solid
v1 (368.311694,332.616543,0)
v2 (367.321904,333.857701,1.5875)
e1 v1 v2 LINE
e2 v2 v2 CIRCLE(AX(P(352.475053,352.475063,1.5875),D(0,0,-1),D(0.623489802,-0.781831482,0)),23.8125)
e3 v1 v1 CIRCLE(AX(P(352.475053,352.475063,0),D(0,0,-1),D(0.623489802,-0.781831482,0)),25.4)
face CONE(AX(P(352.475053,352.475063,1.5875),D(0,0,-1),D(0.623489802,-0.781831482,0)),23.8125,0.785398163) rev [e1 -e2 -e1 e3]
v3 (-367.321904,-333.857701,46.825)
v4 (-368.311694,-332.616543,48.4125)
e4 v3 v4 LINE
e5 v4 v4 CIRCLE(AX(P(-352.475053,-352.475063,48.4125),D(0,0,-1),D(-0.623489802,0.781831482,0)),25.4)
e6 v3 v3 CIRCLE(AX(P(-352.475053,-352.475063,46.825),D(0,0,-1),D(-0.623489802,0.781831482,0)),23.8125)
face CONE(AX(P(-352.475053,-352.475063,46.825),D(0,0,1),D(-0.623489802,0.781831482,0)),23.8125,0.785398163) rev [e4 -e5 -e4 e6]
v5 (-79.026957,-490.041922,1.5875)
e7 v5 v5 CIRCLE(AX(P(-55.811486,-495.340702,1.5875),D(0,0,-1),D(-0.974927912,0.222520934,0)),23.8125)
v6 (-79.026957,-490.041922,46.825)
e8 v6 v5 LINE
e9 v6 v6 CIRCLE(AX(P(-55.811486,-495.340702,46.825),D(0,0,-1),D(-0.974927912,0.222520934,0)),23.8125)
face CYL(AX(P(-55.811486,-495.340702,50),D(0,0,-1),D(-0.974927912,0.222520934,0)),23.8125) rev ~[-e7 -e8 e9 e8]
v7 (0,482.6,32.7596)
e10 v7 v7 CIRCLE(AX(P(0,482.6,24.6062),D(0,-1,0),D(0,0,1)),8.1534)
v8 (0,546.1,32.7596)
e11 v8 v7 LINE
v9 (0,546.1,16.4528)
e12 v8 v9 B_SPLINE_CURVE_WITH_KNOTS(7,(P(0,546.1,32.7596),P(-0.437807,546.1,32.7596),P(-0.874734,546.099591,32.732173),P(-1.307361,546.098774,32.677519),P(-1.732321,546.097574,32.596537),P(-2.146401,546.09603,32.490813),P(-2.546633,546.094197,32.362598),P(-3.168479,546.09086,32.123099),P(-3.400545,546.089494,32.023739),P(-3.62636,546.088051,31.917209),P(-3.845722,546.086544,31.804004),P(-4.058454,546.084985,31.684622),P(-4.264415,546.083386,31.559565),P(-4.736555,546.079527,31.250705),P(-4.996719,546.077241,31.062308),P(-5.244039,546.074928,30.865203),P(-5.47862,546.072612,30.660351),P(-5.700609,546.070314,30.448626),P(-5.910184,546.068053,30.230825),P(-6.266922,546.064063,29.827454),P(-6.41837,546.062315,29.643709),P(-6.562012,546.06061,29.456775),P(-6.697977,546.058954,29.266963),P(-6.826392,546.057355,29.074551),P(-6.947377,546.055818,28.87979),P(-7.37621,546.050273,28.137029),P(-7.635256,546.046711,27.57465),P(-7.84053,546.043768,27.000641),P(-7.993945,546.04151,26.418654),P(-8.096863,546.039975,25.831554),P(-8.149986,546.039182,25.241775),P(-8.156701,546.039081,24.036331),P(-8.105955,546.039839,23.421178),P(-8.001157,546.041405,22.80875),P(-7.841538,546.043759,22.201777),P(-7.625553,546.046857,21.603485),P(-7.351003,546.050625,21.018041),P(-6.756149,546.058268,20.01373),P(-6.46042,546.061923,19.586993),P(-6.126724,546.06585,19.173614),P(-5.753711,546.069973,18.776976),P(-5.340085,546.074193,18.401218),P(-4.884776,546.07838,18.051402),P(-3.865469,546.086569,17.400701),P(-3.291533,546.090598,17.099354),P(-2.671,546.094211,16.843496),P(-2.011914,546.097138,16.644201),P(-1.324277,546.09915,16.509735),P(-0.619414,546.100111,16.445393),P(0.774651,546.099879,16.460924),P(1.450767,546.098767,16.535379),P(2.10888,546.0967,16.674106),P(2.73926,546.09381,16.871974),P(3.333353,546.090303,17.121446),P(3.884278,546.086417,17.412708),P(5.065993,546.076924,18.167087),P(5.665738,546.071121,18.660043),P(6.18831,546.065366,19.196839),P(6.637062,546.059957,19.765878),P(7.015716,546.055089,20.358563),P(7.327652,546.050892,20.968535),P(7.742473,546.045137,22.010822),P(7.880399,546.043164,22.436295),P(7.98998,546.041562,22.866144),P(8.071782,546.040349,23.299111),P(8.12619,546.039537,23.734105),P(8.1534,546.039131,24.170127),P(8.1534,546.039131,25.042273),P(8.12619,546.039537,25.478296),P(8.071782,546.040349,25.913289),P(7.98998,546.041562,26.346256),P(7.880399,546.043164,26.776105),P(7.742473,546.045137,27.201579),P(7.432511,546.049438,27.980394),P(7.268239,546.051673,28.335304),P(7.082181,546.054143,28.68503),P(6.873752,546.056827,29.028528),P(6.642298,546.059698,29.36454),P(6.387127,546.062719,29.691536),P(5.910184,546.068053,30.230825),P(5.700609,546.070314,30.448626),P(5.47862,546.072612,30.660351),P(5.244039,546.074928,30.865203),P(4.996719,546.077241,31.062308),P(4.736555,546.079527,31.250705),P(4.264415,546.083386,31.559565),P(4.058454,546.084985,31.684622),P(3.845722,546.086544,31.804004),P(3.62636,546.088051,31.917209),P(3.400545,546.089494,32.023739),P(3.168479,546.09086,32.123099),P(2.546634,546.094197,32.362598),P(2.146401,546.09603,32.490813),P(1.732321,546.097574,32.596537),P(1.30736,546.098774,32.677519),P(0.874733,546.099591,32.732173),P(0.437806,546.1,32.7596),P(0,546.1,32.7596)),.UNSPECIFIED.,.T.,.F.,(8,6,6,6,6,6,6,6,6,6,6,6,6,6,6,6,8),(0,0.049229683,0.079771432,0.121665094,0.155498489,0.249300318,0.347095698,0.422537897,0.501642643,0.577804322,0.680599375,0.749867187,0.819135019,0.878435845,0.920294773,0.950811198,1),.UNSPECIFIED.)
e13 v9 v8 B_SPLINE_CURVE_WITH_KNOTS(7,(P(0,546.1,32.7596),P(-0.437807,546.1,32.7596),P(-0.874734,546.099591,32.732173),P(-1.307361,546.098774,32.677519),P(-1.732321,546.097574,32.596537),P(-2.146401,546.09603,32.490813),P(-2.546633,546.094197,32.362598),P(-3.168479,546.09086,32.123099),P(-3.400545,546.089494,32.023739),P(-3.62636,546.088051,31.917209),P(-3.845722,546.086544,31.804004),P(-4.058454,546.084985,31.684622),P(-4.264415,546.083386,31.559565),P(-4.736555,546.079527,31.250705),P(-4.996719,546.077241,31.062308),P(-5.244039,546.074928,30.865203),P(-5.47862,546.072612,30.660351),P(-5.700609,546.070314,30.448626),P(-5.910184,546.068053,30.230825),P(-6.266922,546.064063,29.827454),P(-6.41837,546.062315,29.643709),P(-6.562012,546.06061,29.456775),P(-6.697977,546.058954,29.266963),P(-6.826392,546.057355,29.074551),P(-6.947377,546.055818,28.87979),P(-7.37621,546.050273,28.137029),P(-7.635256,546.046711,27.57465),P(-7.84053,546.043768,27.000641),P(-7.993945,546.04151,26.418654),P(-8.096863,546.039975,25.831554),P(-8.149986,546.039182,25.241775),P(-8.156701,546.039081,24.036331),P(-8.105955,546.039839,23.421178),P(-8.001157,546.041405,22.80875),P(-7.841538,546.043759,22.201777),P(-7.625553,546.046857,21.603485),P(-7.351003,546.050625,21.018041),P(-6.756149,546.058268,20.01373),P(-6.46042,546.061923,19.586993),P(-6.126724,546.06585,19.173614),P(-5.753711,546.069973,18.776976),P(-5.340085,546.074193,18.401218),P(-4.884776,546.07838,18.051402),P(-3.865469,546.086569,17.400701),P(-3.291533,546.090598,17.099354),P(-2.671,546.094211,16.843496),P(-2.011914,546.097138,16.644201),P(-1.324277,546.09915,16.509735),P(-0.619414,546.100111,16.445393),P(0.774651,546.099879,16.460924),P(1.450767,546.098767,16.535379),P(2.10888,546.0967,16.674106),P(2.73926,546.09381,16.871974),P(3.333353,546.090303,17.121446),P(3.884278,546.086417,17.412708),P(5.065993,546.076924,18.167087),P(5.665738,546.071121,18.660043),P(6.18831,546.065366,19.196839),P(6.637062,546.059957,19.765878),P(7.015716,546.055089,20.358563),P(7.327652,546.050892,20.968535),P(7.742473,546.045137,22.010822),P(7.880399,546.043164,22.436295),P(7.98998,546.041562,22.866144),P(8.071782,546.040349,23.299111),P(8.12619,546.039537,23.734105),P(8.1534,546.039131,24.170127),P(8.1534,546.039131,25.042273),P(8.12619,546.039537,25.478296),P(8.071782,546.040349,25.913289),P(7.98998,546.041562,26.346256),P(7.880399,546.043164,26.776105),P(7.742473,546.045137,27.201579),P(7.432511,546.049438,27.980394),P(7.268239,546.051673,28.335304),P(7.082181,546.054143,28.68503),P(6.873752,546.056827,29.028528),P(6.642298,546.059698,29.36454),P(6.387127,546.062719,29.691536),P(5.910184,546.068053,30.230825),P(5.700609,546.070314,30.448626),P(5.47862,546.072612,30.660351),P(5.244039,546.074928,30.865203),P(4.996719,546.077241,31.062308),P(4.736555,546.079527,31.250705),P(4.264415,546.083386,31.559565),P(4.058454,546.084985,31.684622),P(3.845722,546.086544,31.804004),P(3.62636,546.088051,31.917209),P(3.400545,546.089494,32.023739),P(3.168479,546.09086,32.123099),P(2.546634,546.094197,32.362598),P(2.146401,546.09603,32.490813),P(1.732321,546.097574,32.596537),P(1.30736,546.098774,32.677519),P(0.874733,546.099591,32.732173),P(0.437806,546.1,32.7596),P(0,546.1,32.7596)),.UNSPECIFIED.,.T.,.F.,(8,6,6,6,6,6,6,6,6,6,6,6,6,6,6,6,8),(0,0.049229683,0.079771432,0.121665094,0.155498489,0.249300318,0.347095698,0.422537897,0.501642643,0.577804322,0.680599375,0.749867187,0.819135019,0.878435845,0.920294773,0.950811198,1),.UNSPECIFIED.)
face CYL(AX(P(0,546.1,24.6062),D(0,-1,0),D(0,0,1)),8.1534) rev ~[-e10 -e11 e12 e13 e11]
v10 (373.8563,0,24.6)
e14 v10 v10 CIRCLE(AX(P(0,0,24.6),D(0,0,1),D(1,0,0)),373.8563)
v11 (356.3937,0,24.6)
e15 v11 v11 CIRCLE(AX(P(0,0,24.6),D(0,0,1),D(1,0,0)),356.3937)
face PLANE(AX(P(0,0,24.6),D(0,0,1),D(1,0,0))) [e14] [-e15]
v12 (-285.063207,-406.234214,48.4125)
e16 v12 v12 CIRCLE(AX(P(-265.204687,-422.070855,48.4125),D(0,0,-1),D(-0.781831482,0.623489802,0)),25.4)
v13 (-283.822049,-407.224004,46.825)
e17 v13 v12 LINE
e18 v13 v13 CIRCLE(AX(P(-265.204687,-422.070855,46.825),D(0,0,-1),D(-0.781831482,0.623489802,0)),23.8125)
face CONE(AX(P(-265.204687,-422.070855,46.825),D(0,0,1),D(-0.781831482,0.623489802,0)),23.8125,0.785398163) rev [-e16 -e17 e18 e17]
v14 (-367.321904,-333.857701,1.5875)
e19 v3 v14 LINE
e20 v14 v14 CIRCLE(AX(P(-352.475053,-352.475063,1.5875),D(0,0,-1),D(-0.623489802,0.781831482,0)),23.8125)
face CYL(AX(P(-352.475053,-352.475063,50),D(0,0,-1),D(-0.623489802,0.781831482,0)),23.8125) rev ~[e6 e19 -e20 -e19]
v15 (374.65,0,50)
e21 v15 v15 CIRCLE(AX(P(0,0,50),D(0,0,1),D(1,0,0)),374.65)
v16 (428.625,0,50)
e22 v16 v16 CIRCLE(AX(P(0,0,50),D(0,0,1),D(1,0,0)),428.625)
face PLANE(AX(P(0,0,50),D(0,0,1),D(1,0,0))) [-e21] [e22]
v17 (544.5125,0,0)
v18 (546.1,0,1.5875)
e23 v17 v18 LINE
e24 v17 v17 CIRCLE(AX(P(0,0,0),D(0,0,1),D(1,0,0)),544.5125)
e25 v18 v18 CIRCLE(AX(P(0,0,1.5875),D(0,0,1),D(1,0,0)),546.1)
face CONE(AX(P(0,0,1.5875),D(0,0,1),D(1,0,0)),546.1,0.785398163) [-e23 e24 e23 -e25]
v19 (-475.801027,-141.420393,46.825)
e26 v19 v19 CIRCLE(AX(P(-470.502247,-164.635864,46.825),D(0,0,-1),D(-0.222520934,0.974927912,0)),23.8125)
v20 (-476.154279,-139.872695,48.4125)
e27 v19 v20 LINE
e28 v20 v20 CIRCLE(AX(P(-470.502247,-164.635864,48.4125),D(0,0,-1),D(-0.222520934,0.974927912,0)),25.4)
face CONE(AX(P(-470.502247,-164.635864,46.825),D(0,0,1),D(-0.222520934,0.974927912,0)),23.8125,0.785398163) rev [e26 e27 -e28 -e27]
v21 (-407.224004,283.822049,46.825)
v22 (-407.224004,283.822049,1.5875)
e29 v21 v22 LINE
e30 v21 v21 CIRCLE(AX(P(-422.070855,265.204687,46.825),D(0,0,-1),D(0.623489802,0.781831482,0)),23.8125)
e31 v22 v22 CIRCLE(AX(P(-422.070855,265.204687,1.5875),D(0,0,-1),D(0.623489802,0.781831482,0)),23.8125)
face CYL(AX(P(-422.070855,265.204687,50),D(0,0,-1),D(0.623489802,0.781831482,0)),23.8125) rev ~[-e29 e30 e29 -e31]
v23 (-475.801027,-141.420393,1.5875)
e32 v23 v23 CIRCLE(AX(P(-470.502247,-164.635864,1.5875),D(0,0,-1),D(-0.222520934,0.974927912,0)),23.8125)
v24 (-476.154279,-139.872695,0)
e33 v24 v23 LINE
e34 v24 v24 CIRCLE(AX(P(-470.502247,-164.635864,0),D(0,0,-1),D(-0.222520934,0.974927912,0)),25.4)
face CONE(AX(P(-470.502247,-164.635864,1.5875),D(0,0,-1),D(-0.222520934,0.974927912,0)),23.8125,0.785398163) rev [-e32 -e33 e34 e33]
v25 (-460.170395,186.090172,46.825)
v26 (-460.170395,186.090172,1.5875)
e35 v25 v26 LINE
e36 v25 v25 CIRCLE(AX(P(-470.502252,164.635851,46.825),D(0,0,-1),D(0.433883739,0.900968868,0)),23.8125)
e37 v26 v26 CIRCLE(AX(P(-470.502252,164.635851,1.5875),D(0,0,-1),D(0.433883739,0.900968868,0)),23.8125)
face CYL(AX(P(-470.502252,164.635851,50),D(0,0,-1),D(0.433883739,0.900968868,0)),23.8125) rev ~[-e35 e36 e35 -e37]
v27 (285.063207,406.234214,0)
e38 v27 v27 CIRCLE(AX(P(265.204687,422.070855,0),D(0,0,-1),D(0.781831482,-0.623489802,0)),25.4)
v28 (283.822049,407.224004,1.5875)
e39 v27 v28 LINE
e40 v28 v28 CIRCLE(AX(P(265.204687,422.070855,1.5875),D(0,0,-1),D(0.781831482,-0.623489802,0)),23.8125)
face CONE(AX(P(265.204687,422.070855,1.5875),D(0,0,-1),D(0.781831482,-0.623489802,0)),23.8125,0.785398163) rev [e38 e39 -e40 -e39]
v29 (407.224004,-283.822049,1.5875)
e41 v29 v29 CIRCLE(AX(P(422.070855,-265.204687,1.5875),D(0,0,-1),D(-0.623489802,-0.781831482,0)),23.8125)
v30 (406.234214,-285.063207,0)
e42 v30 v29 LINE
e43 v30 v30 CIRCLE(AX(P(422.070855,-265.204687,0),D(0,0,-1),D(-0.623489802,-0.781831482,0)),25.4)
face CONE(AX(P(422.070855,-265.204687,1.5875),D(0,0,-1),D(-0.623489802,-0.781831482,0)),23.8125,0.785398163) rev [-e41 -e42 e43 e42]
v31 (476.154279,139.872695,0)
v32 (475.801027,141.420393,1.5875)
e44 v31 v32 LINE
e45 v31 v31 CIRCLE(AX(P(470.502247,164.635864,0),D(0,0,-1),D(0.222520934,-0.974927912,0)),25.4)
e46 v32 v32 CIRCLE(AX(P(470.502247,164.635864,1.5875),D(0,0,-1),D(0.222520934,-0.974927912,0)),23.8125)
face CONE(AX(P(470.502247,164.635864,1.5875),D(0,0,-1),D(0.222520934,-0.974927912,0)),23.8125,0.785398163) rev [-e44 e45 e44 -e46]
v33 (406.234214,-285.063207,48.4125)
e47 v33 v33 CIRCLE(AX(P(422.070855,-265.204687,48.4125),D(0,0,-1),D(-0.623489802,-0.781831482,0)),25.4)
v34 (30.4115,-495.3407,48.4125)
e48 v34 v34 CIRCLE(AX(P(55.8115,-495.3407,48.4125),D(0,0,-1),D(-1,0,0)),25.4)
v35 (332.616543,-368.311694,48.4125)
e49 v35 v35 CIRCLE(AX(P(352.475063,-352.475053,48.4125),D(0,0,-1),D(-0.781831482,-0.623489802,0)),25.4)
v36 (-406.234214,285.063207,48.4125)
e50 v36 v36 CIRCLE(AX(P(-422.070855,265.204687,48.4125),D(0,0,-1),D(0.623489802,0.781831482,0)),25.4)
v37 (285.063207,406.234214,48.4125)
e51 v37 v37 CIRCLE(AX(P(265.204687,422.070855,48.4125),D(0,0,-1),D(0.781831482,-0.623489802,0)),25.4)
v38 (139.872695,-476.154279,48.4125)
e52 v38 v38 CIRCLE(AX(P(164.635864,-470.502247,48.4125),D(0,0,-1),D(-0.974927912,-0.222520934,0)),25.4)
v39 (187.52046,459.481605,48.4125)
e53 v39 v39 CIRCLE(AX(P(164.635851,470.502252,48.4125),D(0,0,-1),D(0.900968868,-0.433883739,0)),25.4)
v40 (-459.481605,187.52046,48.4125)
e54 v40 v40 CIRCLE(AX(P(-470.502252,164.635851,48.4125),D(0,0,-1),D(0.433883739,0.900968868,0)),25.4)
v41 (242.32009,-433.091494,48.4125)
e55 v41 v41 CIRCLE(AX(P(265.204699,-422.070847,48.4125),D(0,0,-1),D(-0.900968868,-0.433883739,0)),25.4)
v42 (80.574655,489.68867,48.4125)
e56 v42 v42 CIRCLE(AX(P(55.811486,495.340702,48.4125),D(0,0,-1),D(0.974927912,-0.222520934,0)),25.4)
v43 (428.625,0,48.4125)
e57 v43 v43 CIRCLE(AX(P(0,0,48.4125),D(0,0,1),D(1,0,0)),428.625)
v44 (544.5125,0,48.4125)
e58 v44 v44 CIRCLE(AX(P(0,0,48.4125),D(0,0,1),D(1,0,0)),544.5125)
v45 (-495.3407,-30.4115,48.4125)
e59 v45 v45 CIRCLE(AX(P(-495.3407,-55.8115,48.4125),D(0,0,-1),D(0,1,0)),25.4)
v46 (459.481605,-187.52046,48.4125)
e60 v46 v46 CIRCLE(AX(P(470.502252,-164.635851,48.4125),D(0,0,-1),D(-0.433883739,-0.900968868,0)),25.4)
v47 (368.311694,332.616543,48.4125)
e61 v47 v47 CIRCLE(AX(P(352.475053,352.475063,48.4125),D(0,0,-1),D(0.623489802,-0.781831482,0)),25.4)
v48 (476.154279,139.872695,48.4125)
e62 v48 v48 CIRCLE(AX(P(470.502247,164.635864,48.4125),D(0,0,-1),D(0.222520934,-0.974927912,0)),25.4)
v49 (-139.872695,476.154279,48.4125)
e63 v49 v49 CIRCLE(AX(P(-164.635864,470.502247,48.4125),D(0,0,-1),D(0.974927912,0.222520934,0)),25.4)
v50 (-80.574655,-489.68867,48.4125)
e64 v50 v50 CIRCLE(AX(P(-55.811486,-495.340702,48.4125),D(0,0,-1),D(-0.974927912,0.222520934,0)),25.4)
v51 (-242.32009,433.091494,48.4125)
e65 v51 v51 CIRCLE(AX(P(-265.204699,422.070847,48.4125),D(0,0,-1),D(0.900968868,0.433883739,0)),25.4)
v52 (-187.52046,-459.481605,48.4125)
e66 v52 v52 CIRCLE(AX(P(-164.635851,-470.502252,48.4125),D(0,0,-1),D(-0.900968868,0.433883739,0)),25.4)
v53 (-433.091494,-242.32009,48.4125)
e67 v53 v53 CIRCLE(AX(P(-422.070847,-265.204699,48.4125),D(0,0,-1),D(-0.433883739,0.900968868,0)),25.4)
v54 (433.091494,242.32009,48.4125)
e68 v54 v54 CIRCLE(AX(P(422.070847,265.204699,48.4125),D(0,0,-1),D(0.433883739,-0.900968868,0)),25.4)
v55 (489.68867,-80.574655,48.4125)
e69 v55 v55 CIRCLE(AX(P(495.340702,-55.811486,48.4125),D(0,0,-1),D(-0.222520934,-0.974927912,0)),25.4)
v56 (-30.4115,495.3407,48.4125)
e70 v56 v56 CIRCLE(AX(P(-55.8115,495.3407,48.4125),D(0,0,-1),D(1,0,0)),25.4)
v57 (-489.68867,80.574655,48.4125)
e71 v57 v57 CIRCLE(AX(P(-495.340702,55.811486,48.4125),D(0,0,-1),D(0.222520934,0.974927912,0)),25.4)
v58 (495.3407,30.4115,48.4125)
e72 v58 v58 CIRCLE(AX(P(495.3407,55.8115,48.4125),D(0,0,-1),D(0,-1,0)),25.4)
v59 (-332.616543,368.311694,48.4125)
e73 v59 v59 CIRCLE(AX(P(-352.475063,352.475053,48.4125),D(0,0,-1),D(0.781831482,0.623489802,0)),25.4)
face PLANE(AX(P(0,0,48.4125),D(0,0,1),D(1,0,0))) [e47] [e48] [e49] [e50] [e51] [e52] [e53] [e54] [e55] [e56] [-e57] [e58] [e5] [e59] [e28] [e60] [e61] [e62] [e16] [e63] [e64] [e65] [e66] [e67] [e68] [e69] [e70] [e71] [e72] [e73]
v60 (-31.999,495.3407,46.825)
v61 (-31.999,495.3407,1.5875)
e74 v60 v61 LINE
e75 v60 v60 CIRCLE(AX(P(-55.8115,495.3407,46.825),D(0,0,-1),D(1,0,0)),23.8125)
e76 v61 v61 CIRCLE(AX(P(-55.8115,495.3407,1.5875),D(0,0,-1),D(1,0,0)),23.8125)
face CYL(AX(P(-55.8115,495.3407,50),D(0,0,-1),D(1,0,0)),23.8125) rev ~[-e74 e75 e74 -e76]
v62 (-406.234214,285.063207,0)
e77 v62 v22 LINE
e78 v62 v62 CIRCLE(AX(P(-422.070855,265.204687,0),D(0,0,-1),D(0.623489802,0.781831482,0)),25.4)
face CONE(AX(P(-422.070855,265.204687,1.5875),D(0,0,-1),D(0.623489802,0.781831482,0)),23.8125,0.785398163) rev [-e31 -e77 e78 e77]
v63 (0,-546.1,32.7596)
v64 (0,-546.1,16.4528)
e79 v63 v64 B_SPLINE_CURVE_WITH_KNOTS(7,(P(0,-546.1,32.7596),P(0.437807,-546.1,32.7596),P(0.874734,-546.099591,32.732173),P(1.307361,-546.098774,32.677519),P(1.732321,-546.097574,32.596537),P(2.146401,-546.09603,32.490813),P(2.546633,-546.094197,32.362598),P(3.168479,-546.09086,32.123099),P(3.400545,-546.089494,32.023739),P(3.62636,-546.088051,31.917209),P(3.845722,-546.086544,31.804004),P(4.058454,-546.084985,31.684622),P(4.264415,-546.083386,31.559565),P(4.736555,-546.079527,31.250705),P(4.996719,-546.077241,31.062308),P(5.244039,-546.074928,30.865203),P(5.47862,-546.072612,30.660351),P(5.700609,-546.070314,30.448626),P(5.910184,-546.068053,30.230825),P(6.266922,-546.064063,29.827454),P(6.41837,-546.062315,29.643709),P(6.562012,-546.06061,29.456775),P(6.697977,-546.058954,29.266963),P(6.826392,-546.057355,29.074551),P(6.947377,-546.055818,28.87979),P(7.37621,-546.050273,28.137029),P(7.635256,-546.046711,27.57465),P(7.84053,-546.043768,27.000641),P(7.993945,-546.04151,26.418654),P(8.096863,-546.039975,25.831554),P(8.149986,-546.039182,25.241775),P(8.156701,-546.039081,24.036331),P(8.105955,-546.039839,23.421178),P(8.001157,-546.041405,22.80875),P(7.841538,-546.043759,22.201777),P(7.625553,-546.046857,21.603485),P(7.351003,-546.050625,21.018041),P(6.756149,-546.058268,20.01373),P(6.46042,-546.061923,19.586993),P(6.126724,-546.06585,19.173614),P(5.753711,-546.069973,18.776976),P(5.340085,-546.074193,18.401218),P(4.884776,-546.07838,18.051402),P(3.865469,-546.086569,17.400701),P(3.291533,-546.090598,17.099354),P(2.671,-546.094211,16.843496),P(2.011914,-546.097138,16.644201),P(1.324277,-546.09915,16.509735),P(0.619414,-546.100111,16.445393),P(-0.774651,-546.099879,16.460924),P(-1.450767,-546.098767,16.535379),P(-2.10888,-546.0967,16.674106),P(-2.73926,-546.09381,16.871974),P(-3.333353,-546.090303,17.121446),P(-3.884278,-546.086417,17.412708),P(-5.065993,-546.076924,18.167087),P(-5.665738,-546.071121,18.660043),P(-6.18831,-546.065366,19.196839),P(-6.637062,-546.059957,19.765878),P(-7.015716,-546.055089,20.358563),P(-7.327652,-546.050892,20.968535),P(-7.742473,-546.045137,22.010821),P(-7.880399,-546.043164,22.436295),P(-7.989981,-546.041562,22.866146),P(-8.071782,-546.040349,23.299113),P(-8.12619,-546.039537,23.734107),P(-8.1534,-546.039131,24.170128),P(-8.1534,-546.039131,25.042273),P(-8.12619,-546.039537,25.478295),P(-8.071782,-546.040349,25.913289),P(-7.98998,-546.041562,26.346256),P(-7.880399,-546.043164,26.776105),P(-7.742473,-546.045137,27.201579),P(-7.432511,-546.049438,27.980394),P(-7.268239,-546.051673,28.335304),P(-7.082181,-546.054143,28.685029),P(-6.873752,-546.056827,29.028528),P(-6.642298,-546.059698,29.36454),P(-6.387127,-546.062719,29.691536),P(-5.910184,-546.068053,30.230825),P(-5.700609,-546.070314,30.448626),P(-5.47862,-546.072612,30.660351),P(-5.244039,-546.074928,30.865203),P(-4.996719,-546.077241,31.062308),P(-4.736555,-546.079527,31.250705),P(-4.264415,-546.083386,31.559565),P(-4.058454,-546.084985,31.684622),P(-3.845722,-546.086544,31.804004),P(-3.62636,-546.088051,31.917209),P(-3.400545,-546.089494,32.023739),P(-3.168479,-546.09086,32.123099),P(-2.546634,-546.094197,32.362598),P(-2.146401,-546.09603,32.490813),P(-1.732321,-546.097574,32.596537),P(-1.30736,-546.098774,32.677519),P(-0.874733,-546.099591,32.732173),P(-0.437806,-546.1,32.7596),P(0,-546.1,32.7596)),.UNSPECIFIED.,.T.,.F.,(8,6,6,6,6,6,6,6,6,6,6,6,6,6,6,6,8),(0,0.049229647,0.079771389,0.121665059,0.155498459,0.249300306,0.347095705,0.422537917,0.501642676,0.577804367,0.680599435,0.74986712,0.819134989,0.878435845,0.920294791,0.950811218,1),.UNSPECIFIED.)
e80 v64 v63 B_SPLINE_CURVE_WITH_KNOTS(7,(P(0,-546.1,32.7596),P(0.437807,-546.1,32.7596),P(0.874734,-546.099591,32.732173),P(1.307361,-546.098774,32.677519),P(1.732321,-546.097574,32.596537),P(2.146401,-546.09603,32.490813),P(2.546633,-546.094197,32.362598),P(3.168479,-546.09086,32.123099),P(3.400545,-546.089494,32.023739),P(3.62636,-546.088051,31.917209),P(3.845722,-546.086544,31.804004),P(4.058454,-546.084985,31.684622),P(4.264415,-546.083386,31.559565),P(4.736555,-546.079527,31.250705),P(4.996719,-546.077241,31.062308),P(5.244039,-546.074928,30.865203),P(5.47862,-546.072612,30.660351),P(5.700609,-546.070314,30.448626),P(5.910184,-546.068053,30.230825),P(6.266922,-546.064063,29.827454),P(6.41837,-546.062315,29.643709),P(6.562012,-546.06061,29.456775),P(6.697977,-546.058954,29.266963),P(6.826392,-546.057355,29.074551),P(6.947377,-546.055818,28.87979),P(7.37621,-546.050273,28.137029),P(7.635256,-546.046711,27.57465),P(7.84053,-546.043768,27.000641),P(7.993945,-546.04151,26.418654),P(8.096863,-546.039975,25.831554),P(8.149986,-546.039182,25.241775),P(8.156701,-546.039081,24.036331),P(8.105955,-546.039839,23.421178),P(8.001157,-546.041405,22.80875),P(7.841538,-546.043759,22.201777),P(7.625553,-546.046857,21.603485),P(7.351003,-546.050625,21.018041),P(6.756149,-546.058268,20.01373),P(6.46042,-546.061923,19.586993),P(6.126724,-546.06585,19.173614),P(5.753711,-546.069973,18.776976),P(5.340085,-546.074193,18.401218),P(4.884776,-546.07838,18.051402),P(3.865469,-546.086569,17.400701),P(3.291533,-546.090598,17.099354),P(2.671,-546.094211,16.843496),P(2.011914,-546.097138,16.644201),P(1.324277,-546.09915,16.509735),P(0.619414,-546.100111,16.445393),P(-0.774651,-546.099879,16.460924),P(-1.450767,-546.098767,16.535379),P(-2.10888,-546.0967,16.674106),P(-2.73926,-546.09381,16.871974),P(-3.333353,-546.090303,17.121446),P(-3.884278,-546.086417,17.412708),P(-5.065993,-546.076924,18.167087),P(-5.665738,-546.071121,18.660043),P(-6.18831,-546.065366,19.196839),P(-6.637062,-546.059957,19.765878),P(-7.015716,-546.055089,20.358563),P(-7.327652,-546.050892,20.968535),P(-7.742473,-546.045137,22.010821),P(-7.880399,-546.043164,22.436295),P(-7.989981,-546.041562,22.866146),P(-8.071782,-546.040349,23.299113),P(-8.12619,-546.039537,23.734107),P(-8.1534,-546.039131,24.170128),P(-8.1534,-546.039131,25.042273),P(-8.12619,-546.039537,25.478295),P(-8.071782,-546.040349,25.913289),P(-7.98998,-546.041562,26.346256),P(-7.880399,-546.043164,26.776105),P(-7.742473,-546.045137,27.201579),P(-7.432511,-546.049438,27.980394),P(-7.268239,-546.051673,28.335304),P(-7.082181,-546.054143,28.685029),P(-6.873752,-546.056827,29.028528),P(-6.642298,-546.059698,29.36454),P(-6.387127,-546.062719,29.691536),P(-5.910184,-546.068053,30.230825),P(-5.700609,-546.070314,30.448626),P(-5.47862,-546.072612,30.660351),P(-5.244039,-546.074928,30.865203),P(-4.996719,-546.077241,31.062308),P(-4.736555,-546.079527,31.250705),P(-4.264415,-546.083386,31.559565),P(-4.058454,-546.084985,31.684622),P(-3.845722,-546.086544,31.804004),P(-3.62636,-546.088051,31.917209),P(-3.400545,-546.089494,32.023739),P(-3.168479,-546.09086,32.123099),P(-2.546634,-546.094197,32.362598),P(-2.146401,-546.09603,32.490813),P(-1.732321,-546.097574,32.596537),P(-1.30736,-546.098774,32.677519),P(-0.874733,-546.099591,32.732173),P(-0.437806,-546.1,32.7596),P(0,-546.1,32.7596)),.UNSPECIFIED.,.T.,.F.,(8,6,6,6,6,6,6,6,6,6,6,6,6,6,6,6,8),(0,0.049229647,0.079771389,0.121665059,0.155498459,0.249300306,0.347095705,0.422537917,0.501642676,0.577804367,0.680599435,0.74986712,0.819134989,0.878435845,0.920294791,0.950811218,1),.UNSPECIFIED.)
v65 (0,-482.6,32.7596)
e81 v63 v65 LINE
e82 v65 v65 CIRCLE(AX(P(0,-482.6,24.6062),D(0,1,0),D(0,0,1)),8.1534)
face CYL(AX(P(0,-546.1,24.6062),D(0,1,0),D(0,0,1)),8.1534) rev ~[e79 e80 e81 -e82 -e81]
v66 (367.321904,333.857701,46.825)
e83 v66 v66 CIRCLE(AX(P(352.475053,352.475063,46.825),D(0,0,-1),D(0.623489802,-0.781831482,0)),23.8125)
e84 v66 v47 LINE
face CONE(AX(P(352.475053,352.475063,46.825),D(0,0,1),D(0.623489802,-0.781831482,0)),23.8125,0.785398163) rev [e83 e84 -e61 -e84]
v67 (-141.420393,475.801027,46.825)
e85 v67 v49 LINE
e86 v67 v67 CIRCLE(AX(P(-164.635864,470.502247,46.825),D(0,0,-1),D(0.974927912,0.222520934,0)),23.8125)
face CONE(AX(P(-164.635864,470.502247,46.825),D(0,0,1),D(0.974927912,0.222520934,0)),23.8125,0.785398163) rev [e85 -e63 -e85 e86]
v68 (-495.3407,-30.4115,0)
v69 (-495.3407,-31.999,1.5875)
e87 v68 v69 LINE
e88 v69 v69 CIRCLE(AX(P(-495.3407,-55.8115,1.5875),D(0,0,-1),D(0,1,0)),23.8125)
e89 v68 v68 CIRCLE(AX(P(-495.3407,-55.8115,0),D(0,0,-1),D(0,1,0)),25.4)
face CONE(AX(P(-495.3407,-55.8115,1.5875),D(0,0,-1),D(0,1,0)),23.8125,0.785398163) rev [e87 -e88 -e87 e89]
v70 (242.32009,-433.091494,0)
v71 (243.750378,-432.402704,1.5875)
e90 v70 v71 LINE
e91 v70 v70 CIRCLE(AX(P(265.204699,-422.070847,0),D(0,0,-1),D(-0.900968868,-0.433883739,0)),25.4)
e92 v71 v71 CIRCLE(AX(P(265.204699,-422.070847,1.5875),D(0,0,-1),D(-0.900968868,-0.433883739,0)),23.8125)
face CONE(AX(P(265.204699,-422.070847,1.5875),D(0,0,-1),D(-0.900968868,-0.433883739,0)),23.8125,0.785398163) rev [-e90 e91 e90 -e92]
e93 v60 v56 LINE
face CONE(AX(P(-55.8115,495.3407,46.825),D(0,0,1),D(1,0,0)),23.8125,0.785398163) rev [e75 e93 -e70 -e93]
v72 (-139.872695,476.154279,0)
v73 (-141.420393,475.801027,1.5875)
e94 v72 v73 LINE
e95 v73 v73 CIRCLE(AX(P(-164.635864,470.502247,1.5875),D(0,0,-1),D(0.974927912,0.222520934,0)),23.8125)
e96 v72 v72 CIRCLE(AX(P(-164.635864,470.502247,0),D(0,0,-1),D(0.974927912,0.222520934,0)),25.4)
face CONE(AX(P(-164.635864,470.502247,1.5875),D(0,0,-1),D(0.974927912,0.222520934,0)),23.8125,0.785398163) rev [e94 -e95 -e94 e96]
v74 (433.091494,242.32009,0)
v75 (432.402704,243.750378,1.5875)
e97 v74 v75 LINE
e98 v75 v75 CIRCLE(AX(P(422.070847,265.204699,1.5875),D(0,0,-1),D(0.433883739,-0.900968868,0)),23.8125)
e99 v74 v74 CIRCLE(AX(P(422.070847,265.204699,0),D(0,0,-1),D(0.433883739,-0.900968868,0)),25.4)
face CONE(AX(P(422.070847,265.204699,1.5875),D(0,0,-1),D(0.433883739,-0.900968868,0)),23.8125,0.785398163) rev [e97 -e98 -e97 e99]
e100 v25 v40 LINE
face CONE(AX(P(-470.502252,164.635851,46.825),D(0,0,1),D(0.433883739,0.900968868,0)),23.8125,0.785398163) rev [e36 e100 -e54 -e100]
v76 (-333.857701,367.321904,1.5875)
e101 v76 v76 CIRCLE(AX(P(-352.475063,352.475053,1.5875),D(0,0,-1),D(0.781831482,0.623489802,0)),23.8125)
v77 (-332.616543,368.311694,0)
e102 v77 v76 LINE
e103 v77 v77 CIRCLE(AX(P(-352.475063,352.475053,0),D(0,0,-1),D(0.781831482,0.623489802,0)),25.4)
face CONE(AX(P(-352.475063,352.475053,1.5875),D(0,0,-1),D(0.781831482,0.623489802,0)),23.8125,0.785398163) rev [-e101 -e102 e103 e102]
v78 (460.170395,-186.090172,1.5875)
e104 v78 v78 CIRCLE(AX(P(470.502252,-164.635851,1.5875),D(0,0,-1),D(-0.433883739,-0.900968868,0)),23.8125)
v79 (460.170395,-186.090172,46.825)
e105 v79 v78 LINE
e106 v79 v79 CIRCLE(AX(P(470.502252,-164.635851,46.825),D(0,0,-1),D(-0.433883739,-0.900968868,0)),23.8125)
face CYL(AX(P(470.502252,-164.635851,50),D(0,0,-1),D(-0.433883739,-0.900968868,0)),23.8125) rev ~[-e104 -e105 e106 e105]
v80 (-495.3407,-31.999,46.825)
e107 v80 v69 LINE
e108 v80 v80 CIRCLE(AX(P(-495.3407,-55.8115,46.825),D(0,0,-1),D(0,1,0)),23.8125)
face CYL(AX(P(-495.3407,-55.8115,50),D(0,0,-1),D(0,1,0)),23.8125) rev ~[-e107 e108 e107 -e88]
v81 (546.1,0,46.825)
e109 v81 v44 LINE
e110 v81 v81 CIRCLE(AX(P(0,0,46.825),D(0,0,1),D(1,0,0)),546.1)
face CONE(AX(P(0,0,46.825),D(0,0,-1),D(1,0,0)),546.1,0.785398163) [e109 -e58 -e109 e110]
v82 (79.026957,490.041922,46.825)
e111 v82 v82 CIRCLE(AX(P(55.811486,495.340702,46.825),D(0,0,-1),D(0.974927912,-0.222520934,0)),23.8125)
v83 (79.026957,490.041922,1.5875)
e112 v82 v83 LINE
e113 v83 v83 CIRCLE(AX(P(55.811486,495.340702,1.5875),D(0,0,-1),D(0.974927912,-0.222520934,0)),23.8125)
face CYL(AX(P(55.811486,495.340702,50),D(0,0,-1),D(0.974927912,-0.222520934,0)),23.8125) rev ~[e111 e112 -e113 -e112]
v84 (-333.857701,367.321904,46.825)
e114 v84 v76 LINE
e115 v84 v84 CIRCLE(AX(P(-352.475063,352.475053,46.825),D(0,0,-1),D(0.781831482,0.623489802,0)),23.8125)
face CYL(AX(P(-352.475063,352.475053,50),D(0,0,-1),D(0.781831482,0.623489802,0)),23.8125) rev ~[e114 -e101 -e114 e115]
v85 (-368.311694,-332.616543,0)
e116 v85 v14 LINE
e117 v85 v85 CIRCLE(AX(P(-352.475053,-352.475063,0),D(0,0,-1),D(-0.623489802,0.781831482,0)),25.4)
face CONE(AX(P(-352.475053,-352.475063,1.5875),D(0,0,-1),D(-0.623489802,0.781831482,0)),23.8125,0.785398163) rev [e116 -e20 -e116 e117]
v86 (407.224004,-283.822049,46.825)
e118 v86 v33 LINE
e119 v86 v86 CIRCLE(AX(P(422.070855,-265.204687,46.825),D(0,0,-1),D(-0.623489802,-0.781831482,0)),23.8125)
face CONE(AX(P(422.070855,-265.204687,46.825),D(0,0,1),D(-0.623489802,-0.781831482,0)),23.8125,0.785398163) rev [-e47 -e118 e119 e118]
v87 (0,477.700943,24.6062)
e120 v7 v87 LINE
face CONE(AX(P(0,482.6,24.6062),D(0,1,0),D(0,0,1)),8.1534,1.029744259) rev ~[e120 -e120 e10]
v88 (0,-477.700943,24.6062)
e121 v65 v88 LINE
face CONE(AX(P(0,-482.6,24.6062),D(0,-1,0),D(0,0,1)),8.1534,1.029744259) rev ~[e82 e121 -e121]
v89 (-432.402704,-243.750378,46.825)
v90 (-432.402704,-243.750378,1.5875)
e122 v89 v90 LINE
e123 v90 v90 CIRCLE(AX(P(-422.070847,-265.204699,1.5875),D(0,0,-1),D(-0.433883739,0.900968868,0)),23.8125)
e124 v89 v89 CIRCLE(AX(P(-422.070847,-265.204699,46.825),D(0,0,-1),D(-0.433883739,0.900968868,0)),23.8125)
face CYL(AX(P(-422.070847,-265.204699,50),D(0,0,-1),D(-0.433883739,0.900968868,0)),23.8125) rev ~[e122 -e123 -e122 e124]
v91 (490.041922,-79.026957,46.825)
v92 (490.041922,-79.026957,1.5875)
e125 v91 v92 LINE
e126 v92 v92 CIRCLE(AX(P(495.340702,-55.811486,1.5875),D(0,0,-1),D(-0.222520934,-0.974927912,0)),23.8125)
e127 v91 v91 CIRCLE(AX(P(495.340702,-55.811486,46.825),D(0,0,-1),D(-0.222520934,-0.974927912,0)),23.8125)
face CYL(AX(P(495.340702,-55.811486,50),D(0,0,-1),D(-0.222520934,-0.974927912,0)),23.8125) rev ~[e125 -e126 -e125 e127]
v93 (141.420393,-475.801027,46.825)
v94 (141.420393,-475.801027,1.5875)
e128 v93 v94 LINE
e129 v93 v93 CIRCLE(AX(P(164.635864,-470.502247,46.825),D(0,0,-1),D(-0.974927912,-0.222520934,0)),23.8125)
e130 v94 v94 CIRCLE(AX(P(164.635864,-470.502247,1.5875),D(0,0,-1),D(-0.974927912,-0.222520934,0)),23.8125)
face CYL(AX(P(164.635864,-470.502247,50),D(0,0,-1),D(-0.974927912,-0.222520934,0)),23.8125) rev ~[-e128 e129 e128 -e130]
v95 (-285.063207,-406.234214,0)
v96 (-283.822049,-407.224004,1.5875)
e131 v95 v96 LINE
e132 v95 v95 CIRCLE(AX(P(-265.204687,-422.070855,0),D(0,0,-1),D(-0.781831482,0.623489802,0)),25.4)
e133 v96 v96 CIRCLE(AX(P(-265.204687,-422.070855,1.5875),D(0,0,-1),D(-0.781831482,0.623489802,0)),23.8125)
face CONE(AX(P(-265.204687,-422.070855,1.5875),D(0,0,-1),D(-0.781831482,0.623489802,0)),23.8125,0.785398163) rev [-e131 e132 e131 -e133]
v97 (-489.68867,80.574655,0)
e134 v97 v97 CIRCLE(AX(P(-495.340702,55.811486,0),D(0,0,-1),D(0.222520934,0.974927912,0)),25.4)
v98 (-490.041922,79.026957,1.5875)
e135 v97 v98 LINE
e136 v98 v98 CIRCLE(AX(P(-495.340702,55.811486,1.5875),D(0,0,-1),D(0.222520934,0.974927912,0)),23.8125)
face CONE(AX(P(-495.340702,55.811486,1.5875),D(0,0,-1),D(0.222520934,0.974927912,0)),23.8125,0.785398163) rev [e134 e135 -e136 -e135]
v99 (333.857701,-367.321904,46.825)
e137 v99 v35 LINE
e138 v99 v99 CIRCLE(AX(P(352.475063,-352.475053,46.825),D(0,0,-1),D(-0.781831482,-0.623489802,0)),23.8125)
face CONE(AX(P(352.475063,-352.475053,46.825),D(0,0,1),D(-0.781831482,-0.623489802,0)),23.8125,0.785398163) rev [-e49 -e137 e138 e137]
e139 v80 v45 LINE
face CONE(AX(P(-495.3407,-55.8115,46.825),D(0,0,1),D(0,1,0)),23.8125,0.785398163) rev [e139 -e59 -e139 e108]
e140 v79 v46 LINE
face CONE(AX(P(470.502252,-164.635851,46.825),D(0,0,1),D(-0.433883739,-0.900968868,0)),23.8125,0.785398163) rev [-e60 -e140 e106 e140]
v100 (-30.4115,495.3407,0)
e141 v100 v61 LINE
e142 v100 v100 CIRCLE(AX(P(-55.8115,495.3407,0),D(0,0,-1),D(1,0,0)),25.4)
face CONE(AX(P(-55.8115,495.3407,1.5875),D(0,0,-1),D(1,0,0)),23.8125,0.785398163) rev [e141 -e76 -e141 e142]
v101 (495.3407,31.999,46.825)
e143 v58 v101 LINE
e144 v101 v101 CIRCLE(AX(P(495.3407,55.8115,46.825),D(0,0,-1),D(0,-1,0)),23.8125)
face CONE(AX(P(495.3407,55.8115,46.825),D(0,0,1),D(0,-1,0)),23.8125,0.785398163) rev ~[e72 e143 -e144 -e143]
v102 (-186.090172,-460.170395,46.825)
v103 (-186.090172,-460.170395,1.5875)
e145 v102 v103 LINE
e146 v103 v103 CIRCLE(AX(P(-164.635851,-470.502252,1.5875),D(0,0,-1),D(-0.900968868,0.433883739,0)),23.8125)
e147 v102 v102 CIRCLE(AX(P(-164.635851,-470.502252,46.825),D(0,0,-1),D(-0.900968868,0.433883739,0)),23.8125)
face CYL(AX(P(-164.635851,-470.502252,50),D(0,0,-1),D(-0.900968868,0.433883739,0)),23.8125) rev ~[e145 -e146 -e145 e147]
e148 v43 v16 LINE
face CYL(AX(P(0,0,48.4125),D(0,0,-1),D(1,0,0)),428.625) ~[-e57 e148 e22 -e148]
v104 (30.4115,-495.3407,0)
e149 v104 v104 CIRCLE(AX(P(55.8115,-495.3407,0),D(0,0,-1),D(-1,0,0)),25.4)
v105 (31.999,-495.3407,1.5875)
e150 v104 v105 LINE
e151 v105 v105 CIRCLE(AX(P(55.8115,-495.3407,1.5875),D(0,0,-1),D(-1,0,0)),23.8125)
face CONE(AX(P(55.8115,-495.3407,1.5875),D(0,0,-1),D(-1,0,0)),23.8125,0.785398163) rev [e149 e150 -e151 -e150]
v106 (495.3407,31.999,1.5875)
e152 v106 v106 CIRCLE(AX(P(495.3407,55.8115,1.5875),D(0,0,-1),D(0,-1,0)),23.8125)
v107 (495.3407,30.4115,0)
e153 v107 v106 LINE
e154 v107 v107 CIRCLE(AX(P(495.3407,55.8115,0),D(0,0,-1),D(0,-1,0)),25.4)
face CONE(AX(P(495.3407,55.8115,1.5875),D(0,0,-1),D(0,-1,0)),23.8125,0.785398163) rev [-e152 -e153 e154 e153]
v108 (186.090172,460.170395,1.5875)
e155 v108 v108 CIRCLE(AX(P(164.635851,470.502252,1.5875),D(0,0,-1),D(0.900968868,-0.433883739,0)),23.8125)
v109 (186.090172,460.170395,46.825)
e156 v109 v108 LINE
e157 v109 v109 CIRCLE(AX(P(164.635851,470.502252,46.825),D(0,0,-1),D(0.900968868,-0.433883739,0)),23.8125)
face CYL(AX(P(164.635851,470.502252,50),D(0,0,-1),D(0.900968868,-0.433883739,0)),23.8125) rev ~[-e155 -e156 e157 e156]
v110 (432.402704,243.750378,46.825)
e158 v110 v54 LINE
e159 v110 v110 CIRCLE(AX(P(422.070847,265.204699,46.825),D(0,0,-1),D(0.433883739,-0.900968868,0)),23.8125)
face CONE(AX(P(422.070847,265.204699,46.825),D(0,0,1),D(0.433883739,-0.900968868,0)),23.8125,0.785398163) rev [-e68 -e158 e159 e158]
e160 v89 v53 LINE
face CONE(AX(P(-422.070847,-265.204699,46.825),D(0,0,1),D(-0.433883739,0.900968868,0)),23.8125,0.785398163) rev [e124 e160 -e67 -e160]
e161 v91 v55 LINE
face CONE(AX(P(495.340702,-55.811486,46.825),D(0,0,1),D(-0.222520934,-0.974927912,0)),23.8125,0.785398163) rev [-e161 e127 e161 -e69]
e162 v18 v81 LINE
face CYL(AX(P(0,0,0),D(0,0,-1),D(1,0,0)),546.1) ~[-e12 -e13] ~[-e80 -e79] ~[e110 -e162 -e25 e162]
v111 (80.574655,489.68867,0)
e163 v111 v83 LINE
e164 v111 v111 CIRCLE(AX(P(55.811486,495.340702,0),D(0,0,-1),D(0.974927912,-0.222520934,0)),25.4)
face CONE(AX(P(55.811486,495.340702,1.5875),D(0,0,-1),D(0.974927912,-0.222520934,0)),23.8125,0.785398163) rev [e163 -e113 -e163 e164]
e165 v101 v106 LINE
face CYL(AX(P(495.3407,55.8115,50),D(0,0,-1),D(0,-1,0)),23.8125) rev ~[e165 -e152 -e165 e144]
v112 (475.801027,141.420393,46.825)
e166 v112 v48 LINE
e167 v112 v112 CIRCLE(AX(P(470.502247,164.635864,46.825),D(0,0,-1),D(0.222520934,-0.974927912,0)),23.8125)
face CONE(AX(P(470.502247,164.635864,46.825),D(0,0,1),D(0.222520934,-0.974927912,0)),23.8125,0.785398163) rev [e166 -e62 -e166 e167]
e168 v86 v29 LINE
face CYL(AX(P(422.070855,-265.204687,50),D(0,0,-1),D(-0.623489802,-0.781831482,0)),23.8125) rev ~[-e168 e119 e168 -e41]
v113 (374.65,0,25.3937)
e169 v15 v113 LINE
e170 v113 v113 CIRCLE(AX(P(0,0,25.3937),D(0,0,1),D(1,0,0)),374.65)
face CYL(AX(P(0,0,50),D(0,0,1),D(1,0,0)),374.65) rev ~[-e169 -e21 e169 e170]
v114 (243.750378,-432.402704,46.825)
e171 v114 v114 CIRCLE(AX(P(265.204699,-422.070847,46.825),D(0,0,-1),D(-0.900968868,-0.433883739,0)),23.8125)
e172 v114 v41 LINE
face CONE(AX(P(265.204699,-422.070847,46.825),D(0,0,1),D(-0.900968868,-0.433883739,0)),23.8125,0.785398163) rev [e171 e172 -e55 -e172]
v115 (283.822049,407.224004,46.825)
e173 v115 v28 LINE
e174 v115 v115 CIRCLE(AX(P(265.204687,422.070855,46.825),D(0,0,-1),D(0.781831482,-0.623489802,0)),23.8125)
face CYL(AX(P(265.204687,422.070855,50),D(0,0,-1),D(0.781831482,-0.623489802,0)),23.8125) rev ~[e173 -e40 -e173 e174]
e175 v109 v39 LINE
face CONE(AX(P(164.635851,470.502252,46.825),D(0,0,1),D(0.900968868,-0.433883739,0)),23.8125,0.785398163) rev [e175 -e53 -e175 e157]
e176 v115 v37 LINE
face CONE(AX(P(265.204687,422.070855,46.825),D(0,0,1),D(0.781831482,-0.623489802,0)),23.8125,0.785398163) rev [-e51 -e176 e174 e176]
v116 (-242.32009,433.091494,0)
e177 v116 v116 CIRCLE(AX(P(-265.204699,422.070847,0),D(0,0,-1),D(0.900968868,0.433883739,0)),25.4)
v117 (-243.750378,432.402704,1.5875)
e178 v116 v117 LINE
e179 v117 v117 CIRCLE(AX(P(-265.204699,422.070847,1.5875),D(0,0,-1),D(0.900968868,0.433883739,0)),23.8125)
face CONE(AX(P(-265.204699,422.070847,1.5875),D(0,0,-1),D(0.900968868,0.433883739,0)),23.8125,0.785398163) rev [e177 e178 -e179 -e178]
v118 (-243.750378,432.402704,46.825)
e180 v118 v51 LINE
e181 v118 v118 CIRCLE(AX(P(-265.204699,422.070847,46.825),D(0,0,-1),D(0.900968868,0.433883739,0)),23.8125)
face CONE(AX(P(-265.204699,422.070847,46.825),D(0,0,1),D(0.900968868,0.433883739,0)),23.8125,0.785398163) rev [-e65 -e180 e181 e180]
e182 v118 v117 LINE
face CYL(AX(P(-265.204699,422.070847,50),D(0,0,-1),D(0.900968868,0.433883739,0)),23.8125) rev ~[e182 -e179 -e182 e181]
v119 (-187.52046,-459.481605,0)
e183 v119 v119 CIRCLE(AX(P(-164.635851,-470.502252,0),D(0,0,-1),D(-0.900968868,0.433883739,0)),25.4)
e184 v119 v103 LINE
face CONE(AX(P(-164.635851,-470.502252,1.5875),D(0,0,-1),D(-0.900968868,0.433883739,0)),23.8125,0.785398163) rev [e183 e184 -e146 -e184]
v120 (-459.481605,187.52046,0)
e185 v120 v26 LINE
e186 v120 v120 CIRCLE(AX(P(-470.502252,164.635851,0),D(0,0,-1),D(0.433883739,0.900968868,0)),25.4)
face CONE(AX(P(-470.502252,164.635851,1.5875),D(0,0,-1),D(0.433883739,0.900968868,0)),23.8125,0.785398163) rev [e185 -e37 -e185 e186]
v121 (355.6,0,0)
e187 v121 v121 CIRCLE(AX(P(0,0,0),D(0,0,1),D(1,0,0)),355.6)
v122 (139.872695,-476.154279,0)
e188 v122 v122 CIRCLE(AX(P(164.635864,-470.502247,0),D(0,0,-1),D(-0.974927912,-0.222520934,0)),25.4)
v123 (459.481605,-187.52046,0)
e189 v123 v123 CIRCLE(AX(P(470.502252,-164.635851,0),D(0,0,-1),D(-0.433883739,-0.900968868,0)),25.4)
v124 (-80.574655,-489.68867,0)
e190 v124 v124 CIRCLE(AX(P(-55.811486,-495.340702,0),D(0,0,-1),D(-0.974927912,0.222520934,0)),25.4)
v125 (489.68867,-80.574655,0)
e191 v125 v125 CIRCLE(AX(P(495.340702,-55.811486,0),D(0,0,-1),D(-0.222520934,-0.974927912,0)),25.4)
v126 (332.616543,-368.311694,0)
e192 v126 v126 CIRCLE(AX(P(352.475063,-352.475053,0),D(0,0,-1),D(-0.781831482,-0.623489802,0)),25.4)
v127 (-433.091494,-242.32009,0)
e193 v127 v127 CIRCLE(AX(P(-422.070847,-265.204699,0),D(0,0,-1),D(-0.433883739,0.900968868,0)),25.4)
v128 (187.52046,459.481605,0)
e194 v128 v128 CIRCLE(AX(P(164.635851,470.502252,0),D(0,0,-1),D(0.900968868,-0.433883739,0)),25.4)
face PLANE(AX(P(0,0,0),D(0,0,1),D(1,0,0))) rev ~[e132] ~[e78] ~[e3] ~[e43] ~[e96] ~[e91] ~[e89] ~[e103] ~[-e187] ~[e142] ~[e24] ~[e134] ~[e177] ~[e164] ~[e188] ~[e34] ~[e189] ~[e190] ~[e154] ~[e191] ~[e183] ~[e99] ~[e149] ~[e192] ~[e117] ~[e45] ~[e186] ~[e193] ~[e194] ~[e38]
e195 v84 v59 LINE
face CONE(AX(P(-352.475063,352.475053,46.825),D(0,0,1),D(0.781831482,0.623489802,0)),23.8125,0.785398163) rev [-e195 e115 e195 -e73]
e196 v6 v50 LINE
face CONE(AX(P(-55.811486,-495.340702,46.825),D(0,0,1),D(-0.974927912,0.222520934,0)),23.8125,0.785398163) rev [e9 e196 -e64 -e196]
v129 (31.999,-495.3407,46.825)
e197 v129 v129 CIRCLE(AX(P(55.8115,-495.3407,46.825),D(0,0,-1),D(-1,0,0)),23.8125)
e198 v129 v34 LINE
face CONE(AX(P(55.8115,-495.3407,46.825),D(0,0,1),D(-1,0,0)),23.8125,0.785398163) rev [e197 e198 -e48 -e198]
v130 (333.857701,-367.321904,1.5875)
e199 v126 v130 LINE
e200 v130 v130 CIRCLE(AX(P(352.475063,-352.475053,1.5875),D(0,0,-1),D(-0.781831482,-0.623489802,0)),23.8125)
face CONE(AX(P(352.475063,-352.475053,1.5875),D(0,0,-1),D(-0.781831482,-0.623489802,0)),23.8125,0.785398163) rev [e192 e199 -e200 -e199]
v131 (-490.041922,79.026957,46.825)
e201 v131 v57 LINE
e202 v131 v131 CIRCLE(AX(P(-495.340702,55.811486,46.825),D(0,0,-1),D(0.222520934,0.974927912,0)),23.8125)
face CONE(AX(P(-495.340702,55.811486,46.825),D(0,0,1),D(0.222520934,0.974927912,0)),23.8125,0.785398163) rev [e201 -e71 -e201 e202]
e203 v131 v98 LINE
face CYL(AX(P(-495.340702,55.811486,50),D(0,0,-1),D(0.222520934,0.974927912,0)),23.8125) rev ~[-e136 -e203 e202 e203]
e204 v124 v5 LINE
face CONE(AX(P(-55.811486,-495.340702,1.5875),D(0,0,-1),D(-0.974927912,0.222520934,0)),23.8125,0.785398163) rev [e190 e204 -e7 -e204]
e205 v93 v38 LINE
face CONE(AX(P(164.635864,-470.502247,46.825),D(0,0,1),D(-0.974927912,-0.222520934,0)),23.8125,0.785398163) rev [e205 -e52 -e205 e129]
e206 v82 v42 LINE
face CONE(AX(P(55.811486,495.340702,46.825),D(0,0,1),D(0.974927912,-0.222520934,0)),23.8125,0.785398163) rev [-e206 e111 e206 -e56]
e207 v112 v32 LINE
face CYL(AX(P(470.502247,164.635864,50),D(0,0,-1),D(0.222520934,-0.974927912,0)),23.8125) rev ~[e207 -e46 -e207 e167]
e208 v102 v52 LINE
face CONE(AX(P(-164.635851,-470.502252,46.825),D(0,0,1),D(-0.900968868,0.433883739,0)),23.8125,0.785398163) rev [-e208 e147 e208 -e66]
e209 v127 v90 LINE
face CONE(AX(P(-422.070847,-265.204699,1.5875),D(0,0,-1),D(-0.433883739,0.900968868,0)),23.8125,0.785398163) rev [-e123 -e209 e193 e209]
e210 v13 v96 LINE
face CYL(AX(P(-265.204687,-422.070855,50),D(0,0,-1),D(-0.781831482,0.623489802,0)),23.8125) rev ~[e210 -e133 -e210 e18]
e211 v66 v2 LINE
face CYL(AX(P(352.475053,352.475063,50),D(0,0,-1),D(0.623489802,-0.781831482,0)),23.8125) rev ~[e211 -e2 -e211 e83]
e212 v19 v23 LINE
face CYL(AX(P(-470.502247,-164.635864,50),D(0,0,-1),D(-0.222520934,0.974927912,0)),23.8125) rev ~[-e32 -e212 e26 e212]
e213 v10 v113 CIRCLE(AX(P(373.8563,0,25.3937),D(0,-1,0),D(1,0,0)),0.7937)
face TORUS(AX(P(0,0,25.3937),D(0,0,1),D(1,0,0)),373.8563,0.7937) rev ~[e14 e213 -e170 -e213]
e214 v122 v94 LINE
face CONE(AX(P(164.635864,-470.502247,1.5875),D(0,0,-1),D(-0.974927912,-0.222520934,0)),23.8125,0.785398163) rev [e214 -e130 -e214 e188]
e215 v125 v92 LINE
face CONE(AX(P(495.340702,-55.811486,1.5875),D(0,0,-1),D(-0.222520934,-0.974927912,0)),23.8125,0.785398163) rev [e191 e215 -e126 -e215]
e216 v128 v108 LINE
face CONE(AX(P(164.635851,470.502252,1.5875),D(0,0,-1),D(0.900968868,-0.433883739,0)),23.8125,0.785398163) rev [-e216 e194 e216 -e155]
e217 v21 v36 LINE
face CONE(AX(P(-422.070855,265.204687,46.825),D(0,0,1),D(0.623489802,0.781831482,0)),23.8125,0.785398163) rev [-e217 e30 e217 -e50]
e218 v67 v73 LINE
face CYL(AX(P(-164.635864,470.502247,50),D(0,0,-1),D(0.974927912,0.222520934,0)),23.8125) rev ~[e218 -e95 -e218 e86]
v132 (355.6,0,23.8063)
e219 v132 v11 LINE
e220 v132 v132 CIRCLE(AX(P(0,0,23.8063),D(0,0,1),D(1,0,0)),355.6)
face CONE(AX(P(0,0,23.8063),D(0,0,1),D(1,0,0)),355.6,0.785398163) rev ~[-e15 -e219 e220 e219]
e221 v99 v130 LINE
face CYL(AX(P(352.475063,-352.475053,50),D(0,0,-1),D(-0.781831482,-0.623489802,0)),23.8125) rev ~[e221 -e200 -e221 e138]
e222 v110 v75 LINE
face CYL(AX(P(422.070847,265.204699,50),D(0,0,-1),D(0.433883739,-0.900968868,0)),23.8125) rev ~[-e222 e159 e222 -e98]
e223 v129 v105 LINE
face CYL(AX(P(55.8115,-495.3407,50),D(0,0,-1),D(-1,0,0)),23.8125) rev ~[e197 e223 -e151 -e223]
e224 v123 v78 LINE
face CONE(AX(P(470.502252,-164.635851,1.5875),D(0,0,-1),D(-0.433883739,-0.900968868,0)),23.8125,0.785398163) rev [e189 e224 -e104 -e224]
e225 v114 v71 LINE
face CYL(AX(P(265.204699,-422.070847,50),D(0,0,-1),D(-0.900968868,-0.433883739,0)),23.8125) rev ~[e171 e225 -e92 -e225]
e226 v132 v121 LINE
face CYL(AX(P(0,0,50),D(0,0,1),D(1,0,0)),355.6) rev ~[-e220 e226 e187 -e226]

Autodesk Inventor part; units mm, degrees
ref_plane "YZ Plane" through (0, 0, 0) normal (1, 0, 0) x (0, 1, 0)
ref_plane "XY Plane" through (0, 0, 0) normal (0, 0, 1) x (1, 0, 0)
sketch "Sketch1" plane through (0, 0, 0) normal (0, 0, 1) x (1, 0, 0)
  circle A0 centre (0, 0) radius 546.1
  dimension "d0" = 1092.2
extrude "Extrusion1" add sketch "Sketch1" along normal blind 48.4125
sketch "Sketch2" plane through (0, 0, 48.4125) normal (0, 0, 1) x (1, 0, 0)
  circle A0 centre (0, 0) radius 428.625
  dimension "d3" = 857.25
extrude "Extrusion2" add sketch "Sketch2" along normal blind 1.5875
sketch "Sketch3" plane through (0, 0, 50) normal (0, 0, 1) x (1, 0, 0)
  circle A0 centre (0, 0) radius 374.65
  dimension "d6" = 749.3
  dimension "d32" = 0
extrude "Extrusion3" cut sketch "Sketch3" against normal blind 25.4
sketch "Sketch4" plane through (0, 0, 50) normal (0, 0, 1) x (1, 0, 0)
  circle A0 centre (0, 0) radius 355.6
  circle A1 centre (0, 0) radius 374.65 construction
  dimension "d9" = 711.2
extrude "Extrusion4" cut sketch "Sketch4" against normal through all
sketch "Sketch5" plane through (0, 0, 50) normal (0, 0, 1) x (1, 0, 0)
  line L0 (-495.3407, -55.8115) -> (495.3407, 55.8115)
  line L1 (-495.3407, -55.8115) -> (501.6093, -55.8115) construction
  point P0 (0, 0)
  point P1 (0, 0)
  dimension "d12" = 996.95
  dimension "d13" = 6.429
hole "Hole1" at (495.3407, 55.8115, 50) direction (0, 0, -1) diameter 47.625 end through all
chamfer "Chamfer3" distance 1.5875 angle 45 2 edges at (495.3407, 79.624, 48.4125) (495.3407, 79.624, 0)
pattern_circular "Circular Pattern1" count 28 over 360 about axis through (0, 0, -10) along (0, 0, 1) of "Hole1", "Chamfer3"
chamfer "Chamfer1" distance 1.5875 angle 45 2 edges at (-546.1, 0, 48.4125) (-546.1, 0, 0)
chamfer "Chamfer2" distance 0.7937 angle 45 1 edges at (-355.6, 0, 24.6)
fillet "Fillet2" radius 0.7937 1 edges at (-374.65, 0, 24.6)
ref_plane "Work Plane1" through (0, 546.1, 0) normal (0, 1, 0) x (-1, 0, 0)
sketch "Sketch6" plane through (0, 546.1, 0) normal (0, 1, 0) x (-1, 0, 0)
  point P0 (0, 0)
  point P1 (0, 24.6062)
  dimension "d36" = 24.6062
hole "Hole2" at (0, 546.1, 24.6062) direction (0, -1, 0) diameter 16.3068 depth 63.5 tip angle 118 thread size "3/4-10 UNC" class "2B" standard "ANSI Unified Screw Threads"
pattern_circular "Circular Pattern2" count 2 over 360 about axis through (0, 0, -10) along (0, 0, 1) of "Hole2"
properties part number "A1-19010-200-01 30in CL300 RFBL flange - thinned" material "Steel, Mild"
